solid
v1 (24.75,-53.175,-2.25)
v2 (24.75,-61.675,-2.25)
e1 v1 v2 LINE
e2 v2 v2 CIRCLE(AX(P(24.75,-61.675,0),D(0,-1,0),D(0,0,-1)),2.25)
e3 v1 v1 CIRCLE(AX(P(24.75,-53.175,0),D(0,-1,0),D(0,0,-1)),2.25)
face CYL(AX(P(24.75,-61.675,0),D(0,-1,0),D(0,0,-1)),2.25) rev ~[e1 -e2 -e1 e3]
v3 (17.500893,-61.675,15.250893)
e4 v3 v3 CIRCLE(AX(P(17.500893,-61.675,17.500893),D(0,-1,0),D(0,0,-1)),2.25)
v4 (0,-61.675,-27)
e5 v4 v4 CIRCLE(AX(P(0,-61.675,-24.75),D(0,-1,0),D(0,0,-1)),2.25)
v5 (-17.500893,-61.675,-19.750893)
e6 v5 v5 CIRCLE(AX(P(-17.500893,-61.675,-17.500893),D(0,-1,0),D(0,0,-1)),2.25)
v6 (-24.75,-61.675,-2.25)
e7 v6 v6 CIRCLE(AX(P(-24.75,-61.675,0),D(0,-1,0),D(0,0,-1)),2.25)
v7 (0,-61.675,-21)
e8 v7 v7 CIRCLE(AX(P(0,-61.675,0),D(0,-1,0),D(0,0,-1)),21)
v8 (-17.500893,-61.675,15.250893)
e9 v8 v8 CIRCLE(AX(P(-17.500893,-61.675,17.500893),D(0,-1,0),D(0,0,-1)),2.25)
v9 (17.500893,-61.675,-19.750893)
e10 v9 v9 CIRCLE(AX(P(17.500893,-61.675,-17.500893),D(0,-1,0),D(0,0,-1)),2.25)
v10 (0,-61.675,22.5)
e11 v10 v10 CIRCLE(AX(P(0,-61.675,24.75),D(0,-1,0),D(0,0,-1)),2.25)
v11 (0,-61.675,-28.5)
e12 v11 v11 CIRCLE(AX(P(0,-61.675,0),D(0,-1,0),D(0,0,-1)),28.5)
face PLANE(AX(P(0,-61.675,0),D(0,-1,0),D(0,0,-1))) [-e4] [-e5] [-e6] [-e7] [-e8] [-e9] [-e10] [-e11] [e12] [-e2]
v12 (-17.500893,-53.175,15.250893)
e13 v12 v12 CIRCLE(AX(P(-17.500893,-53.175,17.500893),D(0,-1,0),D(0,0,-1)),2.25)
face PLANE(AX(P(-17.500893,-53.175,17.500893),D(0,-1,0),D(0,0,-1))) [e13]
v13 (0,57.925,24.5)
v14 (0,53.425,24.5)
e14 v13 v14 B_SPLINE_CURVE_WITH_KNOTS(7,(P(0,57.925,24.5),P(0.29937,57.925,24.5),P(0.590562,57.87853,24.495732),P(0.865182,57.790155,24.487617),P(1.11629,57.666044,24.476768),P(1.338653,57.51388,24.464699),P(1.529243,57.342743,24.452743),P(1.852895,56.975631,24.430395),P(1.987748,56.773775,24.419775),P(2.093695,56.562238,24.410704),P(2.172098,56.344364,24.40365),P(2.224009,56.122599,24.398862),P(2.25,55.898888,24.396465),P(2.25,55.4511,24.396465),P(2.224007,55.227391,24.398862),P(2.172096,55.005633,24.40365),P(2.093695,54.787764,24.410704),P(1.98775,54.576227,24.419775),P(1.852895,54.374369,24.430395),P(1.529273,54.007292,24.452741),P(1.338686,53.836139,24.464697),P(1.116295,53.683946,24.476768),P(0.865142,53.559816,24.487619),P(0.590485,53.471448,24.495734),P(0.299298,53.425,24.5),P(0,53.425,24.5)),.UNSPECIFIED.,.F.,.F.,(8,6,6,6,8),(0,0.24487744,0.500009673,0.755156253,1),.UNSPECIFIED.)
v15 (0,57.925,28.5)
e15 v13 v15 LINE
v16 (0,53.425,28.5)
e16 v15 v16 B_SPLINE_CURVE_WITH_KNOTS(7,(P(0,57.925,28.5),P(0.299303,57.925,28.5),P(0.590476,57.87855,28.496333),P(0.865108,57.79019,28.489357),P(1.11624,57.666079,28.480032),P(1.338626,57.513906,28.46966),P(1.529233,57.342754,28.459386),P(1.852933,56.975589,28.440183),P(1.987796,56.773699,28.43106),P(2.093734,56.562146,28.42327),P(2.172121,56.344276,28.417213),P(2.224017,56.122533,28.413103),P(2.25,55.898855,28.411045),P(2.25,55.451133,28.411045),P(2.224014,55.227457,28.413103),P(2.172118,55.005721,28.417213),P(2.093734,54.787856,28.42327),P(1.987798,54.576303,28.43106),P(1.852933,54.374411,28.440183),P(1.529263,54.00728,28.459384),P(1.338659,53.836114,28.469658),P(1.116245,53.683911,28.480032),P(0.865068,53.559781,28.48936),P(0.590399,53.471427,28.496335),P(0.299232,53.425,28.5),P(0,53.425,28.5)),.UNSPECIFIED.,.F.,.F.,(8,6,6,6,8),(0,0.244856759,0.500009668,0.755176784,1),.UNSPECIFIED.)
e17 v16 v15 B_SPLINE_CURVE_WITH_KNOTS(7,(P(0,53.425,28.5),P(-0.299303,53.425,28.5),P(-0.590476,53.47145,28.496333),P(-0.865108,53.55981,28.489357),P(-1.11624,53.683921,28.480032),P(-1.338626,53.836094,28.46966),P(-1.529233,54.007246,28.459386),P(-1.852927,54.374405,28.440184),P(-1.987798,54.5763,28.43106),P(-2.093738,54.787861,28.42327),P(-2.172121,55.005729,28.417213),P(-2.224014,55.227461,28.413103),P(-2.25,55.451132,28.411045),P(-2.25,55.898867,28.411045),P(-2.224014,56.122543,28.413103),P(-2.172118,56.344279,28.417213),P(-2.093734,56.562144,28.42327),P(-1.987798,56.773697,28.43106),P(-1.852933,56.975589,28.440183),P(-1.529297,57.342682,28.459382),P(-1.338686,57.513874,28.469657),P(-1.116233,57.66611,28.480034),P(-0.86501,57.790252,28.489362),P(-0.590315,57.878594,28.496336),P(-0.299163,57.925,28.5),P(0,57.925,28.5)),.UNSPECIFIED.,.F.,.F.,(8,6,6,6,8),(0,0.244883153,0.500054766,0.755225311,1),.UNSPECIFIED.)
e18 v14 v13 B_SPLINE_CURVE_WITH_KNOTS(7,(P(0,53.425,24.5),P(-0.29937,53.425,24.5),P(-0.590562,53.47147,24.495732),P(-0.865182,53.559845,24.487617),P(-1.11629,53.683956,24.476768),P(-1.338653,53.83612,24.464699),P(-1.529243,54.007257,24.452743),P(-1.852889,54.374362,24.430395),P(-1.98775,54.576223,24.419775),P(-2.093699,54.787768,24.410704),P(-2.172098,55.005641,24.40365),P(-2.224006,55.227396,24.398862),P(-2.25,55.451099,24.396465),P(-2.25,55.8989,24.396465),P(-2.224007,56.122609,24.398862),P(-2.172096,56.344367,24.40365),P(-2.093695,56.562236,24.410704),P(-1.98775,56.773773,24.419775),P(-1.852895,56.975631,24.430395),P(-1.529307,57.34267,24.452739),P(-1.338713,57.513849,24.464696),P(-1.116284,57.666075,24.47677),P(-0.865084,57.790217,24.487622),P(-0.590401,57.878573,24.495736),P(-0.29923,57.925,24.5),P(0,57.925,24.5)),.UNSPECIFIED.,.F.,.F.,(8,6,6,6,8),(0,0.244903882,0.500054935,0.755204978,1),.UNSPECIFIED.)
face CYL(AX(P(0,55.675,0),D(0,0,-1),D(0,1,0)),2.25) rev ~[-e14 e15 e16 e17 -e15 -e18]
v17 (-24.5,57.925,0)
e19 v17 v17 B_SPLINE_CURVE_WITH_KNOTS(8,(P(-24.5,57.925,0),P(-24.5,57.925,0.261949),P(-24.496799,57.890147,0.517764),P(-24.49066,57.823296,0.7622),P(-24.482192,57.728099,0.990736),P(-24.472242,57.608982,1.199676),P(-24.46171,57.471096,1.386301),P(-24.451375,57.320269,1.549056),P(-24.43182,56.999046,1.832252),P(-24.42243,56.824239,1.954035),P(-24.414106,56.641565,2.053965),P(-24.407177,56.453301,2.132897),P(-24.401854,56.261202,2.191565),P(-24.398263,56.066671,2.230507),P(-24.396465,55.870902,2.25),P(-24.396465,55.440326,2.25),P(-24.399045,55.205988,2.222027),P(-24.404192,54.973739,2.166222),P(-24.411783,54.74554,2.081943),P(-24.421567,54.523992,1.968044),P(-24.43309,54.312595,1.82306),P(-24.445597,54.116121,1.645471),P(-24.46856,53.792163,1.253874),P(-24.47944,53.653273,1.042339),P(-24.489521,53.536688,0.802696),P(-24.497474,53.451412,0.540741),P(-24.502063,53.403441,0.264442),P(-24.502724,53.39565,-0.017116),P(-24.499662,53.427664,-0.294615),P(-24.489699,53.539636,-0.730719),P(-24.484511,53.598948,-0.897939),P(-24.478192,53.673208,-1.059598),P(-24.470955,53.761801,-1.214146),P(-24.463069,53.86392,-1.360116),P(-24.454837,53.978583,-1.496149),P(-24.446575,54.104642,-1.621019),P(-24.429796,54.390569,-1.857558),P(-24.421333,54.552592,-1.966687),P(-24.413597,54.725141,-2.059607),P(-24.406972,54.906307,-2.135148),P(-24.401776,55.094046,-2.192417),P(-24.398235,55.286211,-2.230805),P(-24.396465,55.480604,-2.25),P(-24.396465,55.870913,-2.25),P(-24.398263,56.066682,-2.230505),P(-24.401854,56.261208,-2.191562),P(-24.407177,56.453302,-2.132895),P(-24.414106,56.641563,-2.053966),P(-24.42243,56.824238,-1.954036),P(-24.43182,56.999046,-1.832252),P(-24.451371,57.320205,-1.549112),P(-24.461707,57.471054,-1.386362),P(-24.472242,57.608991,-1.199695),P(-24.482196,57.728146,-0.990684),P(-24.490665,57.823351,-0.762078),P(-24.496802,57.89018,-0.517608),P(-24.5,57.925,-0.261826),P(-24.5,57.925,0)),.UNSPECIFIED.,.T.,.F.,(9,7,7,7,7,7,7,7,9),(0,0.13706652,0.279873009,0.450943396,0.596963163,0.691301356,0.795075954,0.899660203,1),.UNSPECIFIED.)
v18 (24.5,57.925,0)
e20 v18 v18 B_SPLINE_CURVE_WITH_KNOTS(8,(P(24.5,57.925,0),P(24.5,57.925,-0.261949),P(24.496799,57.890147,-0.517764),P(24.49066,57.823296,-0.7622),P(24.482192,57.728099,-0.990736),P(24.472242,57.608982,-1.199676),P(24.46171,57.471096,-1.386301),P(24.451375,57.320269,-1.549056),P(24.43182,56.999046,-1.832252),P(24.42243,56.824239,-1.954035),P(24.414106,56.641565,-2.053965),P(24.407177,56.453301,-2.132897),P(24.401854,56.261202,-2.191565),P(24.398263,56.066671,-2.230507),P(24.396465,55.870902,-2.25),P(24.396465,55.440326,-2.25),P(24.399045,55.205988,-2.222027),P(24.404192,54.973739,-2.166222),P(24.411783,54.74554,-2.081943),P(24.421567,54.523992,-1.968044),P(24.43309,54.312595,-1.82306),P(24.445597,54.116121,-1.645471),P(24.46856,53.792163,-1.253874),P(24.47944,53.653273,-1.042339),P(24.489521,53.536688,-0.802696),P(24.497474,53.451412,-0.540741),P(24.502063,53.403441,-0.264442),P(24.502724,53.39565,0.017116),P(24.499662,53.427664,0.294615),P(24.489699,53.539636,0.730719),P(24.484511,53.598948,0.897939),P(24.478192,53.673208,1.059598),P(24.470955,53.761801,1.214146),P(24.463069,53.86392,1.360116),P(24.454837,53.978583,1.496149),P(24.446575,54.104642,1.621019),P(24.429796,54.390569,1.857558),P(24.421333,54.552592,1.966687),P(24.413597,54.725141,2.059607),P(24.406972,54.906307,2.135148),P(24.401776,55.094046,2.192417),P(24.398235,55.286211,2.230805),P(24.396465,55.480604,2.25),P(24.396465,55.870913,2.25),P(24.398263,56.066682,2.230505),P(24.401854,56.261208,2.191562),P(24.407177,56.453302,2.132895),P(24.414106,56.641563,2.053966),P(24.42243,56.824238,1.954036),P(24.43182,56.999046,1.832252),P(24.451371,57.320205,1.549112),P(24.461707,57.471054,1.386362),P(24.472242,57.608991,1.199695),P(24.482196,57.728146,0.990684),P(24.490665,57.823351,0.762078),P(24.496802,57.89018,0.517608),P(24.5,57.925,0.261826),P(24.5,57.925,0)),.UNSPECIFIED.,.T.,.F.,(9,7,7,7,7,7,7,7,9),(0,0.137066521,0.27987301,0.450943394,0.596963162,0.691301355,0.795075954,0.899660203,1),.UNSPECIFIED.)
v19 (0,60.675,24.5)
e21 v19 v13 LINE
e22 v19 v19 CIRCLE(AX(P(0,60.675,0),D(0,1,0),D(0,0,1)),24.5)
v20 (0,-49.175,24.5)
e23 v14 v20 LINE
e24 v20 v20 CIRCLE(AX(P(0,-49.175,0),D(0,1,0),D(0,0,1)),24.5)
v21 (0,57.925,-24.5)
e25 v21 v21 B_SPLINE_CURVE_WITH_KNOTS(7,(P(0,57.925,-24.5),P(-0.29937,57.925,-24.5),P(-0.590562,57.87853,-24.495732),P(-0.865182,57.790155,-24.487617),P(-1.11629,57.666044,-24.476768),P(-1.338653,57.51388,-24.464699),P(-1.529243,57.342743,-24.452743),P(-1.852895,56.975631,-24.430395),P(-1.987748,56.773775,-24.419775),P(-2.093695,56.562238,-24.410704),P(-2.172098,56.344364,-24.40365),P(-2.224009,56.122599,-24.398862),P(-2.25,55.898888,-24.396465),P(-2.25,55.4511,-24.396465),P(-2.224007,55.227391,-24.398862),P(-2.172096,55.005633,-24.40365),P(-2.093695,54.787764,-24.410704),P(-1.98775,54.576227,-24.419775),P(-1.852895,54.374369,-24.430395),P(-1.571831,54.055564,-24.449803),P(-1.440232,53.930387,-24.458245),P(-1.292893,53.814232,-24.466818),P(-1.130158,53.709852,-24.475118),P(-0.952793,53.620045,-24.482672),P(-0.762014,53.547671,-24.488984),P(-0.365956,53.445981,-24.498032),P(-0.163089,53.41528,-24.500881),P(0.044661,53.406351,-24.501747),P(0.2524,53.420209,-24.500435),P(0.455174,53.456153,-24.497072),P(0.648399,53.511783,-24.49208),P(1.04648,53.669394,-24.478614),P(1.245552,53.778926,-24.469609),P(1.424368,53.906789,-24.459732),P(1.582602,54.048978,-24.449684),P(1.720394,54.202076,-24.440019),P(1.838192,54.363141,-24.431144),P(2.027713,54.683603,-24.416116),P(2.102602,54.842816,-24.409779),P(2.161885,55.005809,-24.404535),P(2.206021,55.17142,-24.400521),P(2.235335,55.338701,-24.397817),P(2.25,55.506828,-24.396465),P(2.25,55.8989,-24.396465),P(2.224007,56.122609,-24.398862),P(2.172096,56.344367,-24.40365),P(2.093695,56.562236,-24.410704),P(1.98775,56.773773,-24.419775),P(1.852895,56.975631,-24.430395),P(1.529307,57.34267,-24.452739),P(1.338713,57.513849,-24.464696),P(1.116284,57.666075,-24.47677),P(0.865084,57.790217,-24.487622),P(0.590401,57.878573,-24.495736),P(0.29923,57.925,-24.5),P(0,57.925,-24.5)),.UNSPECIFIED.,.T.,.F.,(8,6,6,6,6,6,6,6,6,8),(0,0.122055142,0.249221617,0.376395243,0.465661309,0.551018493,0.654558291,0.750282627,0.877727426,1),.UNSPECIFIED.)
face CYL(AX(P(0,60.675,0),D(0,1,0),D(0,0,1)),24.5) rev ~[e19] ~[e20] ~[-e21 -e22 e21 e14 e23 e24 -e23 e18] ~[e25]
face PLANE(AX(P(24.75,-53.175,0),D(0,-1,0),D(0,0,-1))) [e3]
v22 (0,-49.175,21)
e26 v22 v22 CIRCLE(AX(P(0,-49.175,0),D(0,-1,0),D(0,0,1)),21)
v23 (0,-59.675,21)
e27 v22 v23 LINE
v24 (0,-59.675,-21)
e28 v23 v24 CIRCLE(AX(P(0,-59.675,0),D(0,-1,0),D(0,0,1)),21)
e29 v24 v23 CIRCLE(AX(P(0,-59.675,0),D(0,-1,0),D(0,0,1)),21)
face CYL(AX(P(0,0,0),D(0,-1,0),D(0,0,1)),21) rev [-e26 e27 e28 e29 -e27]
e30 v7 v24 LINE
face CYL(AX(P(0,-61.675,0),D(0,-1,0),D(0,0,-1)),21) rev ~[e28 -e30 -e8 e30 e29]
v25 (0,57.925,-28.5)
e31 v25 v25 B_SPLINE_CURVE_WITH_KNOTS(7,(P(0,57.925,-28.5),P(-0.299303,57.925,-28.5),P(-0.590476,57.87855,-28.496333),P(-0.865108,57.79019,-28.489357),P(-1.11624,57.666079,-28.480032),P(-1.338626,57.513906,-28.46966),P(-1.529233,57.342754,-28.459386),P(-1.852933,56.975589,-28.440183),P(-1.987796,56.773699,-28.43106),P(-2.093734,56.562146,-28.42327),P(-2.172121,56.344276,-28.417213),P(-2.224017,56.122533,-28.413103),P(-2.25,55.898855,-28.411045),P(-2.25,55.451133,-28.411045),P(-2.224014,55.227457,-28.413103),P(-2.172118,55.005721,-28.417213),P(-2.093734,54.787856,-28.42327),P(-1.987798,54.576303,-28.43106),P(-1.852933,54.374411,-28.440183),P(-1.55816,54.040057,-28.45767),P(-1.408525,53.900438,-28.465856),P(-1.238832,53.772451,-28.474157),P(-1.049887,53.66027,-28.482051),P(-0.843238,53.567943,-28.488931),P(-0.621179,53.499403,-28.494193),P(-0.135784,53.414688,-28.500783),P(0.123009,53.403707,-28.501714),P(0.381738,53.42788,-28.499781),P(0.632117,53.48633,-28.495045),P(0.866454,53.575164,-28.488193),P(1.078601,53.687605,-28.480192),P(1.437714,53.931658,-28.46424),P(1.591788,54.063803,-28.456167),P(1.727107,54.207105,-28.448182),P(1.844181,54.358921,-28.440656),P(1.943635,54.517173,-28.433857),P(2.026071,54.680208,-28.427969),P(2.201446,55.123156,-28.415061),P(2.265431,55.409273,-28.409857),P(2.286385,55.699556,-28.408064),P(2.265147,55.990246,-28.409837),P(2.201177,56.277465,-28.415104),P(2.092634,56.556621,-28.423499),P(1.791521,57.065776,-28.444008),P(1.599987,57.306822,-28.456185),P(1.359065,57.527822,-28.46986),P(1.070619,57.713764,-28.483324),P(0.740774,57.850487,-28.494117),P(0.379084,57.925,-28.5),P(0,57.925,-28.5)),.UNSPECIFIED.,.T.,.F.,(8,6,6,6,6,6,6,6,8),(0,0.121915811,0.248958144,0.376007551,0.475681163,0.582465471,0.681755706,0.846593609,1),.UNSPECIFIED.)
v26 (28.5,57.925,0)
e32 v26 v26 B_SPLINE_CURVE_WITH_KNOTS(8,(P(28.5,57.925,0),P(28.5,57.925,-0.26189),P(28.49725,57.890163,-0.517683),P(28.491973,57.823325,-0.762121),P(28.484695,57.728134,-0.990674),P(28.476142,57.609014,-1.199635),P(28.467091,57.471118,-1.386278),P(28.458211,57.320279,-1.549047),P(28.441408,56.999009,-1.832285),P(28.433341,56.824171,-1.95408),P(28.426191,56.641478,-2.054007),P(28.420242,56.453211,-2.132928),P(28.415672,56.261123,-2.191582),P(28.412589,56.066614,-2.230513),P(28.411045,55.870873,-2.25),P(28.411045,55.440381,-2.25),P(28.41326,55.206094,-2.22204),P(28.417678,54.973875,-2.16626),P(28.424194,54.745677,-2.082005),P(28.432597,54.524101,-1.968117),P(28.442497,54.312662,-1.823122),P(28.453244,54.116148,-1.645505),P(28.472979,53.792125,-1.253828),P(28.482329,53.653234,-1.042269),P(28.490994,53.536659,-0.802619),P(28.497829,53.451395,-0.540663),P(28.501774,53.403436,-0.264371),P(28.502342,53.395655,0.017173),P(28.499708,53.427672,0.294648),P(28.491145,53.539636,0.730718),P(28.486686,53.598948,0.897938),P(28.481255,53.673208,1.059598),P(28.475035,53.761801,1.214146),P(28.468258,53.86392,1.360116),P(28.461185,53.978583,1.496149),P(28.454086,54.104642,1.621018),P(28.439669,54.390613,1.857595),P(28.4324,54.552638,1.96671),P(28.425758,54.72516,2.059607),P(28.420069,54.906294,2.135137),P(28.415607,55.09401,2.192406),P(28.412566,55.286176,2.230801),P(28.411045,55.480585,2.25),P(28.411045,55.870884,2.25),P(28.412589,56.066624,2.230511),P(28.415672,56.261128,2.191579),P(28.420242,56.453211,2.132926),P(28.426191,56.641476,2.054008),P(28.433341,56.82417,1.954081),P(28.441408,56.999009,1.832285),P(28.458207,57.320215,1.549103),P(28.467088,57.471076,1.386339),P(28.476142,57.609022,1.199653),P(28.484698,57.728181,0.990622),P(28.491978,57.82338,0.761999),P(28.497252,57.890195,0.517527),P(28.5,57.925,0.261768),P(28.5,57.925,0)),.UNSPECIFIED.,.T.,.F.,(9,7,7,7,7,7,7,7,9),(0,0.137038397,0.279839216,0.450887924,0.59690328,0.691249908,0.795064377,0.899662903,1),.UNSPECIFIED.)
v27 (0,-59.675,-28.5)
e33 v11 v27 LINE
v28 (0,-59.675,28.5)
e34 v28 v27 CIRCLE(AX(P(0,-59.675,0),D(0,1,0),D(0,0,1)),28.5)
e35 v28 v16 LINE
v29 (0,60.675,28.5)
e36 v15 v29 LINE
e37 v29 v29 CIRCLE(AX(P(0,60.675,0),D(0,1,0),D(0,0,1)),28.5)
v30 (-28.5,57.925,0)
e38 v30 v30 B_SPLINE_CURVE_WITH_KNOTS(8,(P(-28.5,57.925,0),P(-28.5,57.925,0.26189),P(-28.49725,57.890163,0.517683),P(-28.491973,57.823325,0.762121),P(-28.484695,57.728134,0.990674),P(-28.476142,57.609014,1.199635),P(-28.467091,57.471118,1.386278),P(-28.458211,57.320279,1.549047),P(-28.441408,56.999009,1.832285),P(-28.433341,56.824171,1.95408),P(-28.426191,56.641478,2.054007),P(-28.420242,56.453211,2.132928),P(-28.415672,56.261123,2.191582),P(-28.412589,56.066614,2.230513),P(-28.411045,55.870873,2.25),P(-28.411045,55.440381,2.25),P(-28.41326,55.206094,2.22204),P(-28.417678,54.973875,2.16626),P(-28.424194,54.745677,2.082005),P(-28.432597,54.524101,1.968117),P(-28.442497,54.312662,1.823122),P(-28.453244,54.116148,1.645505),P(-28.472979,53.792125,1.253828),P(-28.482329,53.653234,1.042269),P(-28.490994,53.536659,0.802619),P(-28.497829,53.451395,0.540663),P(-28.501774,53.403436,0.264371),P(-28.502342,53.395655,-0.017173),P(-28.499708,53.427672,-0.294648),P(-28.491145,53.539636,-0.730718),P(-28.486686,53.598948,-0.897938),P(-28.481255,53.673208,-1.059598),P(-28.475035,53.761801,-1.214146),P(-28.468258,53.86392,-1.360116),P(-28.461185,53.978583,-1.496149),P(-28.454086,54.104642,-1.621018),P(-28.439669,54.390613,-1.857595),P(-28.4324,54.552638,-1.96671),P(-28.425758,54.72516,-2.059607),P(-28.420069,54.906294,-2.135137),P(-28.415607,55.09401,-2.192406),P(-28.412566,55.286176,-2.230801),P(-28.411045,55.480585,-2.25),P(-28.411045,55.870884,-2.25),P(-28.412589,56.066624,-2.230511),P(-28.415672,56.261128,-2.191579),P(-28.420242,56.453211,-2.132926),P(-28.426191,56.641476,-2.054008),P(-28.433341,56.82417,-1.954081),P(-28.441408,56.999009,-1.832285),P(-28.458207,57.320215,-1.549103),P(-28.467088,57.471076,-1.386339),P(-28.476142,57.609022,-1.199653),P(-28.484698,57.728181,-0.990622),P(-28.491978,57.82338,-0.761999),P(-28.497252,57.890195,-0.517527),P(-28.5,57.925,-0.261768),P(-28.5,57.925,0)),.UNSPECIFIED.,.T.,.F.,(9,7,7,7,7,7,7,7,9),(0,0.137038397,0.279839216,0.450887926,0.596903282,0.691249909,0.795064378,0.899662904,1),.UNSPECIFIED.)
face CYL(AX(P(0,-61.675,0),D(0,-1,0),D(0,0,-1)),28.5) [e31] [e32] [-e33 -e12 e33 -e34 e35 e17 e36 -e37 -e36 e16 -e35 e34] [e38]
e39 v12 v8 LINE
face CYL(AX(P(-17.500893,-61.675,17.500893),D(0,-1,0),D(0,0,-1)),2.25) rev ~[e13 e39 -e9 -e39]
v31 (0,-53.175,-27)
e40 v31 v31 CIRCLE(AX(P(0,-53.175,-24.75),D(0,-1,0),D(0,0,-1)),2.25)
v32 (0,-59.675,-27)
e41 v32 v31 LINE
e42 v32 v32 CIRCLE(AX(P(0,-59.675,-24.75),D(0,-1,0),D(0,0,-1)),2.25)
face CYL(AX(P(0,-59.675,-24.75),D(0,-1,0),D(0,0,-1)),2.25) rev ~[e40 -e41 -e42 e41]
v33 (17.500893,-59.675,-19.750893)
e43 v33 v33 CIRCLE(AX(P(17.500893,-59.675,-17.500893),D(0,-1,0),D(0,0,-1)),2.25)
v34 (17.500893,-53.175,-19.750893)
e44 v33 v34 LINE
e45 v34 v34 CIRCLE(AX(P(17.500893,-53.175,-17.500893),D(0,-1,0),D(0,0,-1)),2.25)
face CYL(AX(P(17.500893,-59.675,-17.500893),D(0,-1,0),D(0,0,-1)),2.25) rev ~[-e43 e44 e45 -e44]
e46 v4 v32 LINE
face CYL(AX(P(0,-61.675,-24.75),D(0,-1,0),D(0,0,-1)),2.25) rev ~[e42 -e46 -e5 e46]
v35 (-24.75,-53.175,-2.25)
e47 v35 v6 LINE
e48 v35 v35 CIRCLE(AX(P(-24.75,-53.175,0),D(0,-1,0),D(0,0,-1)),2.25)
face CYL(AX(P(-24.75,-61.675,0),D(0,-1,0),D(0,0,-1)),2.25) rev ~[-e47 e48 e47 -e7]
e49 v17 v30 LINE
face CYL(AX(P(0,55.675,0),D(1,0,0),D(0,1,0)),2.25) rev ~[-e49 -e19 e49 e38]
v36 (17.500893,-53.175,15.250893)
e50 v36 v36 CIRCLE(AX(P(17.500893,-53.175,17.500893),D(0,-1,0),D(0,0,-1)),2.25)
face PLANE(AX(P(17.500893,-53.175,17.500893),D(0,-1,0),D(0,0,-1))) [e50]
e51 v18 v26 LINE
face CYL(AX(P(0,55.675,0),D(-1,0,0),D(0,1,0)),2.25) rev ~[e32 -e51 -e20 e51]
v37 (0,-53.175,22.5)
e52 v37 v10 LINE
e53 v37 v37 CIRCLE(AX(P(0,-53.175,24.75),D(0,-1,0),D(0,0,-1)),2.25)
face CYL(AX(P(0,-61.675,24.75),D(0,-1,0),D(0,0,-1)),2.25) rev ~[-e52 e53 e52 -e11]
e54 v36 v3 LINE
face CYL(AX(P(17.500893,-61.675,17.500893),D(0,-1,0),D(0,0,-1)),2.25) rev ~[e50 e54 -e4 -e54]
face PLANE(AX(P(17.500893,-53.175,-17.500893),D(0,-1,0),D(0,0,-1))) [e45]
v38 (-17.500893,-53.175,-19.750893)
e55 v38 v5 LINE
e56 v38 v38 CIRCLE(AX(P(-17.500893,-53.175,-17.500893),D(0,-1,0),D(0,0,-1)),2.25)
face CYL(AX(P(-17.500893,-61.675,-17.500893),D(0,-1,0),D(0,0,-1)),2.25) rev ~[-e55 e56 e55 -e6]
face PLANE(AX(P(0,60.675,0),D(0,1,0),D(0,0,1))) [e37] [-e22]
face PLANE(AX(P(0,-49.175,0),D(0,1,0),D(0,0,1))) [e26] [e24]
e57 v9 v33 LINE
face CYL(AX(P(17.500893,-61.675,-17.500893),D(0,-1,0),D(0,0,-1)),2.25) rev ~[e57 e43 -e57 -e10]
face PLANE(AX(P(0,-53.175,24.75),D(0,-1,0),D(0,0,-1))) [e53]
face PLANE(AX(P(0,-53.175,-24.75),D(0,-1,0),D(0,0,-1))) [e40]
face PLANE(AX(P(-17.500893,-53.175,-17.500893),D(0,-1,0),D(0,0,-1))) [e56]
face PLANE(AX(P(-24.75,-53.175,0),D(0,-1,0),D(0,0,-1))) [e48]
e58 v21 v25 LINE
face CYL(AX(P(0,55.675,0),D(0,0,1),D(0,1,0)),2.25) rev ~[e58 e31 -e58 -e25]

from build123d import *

# Parameters (mm, degrees)
SKETCH1_R           = 28.5
SKETCH1_R_2         = 21
BOSS_EXTRUDE1_DEPTH = 60.675
SKETCH2_R           = 2.25
CUT_EXTRUDE1_DEPTH  = 73.841990809
CIRPATTERN1_COUNT   = 4
CUT_EXTRUDE4_START  = -1
SKETCH5_R           = 28.5
CUT_EXTRUDE4_DEPTH  = 1
SKETCH3_R           = 2.25
CUT_EXTRUDE2_DEPTH  = 6.5
SKETCH4_R           = 24.5
CUT_EXTRUDE3_DEPTH  = 109.85
BOSS_EXTRUDE2_START = 2
SKETCH7_R           = 28.5
SKETCH7_R_2         = 2.25
SKETCH7_R_3         = 21
BOSS_EXTRUDE2_DEPTH = 2


with BuildPart() as part:
    # Sketch1 → Boss-Extrude1 (new, symmetric)
    with BuildSketch(Plane(origin=(0, 0, 0), x_dir=(1, 0, 0), z_dir=(0, 1, 0))):
        with Locations(Location((0, 0, 0), (0, 0, 270))):
            Circle(SKETCH1_R)
        with Locations(Location((0, 0, 0), (0, 0, 270))):
            Circle(SKETCH1_R_2, mode=Mode.SUBTRACT)
    extrude(amount=BOSS_EXTRUDE1_DEPTH, both=True)

    # Sketch2 → Cut-Extrude1 (cut, through all)
    with BuildSketch(Plane.XY):
        with Locations(Location((0, 55.675, 0), (0, 0, 90))):
            Circle(SKETCH2_R)
    cut_extrude1 = extrude(amount=-CUT_EXTRUDE1_DEPTH, mode=Mode.SUBTRACT)

    # CirPattern1: Cut-Extrude1 ×4 about axis
    cirpattern1_axis = Axis((0, 60.675, 0), (0, -1, 0))
    for i in range(1, CIRPATTERN1_COUNT):
        add(cut_extrude1.rotate(cirpattern1_axis, i * 360 / CIRPATTERN1_COUNT), mode=Mode.SUBTRACT)

    # Sketch5 → Cut-Extrude4 (cut)
    with BuildSketch(Plane.XZ.offset(60.675).offset(CUT_EXTRUDE4_START)):
        with Locations(Location((0, 0, 0), (0, 0, 270))):
            Circle(SKETCH5_R)
    extrude(amount=CUT_EXTRUDE4_DEPTH, mode=Mode.SUBTRACT)

    # Sketch3 → Cut-Extrude2 (cut)
    with BuildSketch(Plane.XZ.offset(59.675)):
        with Locations(Location((0, -24.75, 0), (0, 0, 270))):
            Circle(SKETCH3_R)
        with Locations(Location((0, 24.75, 0), (0, 0, 270))):
            Circle(SKETCH3_R)
        with Locations(Location((17.500892834, 17.500892834, 0), (0, 0, 270))):
            Circle(SKETCH3_R)
        with Locations(Location((24.75, 0, 0), (0, 0, 270))):
            Circle(SKETCH3_R)
        with Locations(Location((17.500892834, -17.500892834, 0), (0, 0, 270))):
            Circle(SKETCH3_R)
        with Locations(Location((-17.500892834, -17.500892834, 0), (0, 0, 270))):
            Circle(SKETCH3_R)
        with Locations(Location((-24.75, 0, 0), (0, 0, 270))):
            Circle(SKETCH3_R)
        with Locations(Location((-17.500892834, 17.500892834, 0), (0, 0, 270))):
            Circle(SKETCH3_R)
    extrude(amount=-CUT_EXTRUDE2_DEPTH, mode=Mode.SUBTRACT)

    # Sketch4 → Cut-Extrude3 (cut)
    with BuildSketch(Plane(origin=(0, 60.675, 0), x_dir=(1, 0, 0), z_dir=(0, 1, 0))):
        with Locations(Location((0, 0, 0), (0, 0, 270))):
            Circle(SKETCH4_R)
    extrude(amount=-CUT_EXTRUDE3_DEPTH, mode=Mode.SUBTRACT)

    # Sketch7 → Boss-Extrude2 (add)
    with BuildSketch(Plane.XZ.offset(59.675).offset(BOSS_EXTRUDE2_START)):
        with Locations(Location((0, 0, 0), (0, 0, 270))):
            Circle(SKETCH7_R)
        with Locations(Location((-17.500892834, -17.500892834, 0), (0, 0, 270))):
            Circle(SKETCH7_R_2, mode=Mode.SUBTRACT)
        with Locations(Location((0, -24.75, 0), (0, 0, 270))):
            Circle(SKETCH7_R_2, mode=Mode.SUBTRACT)
        with Locations(Location((17.500892834, -17.500892834, 0), (0, 0, 270))):
            Circle(SKETCH7_R_2, mode=Mode.SUBTRACT)
        with Locations(Location((24.75, 0, 0), (0, 0, 270))):
            Circle(SKETCH7_R_2, mode=Mode.SUBTRACT)
        with Locations(Location((-24.75, 0, 0), (0, 0, 270))):
            Circle(SKETCH7_R_2, mode=Mode.SUBTRACT)
        with Locations(Location((-17.500892834, 17.500892834, 0), (0, 0, 270))):
            Circle(SKETCH7_R_2, mode=Mode.SUBTRACT)
        with Locations(Location((0, 24.75, 0), (0, 0, 270))):
            Circle(SKETCH7_R_2, mode=Mode.SUBTRACT)
        with Locations(Location((17.500892834, 17.500892834, 0), (0, 0, 270))):
            Circle(SKETCH7_R_2, mode=Mode.SUBTRACT)
        with Locations(Location((0, 0, 0), (0, 0, 270))):
            Circle(SKETCH7_R_3, mode=Mode.SUBTRACT)
    extrude(amount=-BOSS_EXTRUDE2_DEPTH)


solid = part.part
